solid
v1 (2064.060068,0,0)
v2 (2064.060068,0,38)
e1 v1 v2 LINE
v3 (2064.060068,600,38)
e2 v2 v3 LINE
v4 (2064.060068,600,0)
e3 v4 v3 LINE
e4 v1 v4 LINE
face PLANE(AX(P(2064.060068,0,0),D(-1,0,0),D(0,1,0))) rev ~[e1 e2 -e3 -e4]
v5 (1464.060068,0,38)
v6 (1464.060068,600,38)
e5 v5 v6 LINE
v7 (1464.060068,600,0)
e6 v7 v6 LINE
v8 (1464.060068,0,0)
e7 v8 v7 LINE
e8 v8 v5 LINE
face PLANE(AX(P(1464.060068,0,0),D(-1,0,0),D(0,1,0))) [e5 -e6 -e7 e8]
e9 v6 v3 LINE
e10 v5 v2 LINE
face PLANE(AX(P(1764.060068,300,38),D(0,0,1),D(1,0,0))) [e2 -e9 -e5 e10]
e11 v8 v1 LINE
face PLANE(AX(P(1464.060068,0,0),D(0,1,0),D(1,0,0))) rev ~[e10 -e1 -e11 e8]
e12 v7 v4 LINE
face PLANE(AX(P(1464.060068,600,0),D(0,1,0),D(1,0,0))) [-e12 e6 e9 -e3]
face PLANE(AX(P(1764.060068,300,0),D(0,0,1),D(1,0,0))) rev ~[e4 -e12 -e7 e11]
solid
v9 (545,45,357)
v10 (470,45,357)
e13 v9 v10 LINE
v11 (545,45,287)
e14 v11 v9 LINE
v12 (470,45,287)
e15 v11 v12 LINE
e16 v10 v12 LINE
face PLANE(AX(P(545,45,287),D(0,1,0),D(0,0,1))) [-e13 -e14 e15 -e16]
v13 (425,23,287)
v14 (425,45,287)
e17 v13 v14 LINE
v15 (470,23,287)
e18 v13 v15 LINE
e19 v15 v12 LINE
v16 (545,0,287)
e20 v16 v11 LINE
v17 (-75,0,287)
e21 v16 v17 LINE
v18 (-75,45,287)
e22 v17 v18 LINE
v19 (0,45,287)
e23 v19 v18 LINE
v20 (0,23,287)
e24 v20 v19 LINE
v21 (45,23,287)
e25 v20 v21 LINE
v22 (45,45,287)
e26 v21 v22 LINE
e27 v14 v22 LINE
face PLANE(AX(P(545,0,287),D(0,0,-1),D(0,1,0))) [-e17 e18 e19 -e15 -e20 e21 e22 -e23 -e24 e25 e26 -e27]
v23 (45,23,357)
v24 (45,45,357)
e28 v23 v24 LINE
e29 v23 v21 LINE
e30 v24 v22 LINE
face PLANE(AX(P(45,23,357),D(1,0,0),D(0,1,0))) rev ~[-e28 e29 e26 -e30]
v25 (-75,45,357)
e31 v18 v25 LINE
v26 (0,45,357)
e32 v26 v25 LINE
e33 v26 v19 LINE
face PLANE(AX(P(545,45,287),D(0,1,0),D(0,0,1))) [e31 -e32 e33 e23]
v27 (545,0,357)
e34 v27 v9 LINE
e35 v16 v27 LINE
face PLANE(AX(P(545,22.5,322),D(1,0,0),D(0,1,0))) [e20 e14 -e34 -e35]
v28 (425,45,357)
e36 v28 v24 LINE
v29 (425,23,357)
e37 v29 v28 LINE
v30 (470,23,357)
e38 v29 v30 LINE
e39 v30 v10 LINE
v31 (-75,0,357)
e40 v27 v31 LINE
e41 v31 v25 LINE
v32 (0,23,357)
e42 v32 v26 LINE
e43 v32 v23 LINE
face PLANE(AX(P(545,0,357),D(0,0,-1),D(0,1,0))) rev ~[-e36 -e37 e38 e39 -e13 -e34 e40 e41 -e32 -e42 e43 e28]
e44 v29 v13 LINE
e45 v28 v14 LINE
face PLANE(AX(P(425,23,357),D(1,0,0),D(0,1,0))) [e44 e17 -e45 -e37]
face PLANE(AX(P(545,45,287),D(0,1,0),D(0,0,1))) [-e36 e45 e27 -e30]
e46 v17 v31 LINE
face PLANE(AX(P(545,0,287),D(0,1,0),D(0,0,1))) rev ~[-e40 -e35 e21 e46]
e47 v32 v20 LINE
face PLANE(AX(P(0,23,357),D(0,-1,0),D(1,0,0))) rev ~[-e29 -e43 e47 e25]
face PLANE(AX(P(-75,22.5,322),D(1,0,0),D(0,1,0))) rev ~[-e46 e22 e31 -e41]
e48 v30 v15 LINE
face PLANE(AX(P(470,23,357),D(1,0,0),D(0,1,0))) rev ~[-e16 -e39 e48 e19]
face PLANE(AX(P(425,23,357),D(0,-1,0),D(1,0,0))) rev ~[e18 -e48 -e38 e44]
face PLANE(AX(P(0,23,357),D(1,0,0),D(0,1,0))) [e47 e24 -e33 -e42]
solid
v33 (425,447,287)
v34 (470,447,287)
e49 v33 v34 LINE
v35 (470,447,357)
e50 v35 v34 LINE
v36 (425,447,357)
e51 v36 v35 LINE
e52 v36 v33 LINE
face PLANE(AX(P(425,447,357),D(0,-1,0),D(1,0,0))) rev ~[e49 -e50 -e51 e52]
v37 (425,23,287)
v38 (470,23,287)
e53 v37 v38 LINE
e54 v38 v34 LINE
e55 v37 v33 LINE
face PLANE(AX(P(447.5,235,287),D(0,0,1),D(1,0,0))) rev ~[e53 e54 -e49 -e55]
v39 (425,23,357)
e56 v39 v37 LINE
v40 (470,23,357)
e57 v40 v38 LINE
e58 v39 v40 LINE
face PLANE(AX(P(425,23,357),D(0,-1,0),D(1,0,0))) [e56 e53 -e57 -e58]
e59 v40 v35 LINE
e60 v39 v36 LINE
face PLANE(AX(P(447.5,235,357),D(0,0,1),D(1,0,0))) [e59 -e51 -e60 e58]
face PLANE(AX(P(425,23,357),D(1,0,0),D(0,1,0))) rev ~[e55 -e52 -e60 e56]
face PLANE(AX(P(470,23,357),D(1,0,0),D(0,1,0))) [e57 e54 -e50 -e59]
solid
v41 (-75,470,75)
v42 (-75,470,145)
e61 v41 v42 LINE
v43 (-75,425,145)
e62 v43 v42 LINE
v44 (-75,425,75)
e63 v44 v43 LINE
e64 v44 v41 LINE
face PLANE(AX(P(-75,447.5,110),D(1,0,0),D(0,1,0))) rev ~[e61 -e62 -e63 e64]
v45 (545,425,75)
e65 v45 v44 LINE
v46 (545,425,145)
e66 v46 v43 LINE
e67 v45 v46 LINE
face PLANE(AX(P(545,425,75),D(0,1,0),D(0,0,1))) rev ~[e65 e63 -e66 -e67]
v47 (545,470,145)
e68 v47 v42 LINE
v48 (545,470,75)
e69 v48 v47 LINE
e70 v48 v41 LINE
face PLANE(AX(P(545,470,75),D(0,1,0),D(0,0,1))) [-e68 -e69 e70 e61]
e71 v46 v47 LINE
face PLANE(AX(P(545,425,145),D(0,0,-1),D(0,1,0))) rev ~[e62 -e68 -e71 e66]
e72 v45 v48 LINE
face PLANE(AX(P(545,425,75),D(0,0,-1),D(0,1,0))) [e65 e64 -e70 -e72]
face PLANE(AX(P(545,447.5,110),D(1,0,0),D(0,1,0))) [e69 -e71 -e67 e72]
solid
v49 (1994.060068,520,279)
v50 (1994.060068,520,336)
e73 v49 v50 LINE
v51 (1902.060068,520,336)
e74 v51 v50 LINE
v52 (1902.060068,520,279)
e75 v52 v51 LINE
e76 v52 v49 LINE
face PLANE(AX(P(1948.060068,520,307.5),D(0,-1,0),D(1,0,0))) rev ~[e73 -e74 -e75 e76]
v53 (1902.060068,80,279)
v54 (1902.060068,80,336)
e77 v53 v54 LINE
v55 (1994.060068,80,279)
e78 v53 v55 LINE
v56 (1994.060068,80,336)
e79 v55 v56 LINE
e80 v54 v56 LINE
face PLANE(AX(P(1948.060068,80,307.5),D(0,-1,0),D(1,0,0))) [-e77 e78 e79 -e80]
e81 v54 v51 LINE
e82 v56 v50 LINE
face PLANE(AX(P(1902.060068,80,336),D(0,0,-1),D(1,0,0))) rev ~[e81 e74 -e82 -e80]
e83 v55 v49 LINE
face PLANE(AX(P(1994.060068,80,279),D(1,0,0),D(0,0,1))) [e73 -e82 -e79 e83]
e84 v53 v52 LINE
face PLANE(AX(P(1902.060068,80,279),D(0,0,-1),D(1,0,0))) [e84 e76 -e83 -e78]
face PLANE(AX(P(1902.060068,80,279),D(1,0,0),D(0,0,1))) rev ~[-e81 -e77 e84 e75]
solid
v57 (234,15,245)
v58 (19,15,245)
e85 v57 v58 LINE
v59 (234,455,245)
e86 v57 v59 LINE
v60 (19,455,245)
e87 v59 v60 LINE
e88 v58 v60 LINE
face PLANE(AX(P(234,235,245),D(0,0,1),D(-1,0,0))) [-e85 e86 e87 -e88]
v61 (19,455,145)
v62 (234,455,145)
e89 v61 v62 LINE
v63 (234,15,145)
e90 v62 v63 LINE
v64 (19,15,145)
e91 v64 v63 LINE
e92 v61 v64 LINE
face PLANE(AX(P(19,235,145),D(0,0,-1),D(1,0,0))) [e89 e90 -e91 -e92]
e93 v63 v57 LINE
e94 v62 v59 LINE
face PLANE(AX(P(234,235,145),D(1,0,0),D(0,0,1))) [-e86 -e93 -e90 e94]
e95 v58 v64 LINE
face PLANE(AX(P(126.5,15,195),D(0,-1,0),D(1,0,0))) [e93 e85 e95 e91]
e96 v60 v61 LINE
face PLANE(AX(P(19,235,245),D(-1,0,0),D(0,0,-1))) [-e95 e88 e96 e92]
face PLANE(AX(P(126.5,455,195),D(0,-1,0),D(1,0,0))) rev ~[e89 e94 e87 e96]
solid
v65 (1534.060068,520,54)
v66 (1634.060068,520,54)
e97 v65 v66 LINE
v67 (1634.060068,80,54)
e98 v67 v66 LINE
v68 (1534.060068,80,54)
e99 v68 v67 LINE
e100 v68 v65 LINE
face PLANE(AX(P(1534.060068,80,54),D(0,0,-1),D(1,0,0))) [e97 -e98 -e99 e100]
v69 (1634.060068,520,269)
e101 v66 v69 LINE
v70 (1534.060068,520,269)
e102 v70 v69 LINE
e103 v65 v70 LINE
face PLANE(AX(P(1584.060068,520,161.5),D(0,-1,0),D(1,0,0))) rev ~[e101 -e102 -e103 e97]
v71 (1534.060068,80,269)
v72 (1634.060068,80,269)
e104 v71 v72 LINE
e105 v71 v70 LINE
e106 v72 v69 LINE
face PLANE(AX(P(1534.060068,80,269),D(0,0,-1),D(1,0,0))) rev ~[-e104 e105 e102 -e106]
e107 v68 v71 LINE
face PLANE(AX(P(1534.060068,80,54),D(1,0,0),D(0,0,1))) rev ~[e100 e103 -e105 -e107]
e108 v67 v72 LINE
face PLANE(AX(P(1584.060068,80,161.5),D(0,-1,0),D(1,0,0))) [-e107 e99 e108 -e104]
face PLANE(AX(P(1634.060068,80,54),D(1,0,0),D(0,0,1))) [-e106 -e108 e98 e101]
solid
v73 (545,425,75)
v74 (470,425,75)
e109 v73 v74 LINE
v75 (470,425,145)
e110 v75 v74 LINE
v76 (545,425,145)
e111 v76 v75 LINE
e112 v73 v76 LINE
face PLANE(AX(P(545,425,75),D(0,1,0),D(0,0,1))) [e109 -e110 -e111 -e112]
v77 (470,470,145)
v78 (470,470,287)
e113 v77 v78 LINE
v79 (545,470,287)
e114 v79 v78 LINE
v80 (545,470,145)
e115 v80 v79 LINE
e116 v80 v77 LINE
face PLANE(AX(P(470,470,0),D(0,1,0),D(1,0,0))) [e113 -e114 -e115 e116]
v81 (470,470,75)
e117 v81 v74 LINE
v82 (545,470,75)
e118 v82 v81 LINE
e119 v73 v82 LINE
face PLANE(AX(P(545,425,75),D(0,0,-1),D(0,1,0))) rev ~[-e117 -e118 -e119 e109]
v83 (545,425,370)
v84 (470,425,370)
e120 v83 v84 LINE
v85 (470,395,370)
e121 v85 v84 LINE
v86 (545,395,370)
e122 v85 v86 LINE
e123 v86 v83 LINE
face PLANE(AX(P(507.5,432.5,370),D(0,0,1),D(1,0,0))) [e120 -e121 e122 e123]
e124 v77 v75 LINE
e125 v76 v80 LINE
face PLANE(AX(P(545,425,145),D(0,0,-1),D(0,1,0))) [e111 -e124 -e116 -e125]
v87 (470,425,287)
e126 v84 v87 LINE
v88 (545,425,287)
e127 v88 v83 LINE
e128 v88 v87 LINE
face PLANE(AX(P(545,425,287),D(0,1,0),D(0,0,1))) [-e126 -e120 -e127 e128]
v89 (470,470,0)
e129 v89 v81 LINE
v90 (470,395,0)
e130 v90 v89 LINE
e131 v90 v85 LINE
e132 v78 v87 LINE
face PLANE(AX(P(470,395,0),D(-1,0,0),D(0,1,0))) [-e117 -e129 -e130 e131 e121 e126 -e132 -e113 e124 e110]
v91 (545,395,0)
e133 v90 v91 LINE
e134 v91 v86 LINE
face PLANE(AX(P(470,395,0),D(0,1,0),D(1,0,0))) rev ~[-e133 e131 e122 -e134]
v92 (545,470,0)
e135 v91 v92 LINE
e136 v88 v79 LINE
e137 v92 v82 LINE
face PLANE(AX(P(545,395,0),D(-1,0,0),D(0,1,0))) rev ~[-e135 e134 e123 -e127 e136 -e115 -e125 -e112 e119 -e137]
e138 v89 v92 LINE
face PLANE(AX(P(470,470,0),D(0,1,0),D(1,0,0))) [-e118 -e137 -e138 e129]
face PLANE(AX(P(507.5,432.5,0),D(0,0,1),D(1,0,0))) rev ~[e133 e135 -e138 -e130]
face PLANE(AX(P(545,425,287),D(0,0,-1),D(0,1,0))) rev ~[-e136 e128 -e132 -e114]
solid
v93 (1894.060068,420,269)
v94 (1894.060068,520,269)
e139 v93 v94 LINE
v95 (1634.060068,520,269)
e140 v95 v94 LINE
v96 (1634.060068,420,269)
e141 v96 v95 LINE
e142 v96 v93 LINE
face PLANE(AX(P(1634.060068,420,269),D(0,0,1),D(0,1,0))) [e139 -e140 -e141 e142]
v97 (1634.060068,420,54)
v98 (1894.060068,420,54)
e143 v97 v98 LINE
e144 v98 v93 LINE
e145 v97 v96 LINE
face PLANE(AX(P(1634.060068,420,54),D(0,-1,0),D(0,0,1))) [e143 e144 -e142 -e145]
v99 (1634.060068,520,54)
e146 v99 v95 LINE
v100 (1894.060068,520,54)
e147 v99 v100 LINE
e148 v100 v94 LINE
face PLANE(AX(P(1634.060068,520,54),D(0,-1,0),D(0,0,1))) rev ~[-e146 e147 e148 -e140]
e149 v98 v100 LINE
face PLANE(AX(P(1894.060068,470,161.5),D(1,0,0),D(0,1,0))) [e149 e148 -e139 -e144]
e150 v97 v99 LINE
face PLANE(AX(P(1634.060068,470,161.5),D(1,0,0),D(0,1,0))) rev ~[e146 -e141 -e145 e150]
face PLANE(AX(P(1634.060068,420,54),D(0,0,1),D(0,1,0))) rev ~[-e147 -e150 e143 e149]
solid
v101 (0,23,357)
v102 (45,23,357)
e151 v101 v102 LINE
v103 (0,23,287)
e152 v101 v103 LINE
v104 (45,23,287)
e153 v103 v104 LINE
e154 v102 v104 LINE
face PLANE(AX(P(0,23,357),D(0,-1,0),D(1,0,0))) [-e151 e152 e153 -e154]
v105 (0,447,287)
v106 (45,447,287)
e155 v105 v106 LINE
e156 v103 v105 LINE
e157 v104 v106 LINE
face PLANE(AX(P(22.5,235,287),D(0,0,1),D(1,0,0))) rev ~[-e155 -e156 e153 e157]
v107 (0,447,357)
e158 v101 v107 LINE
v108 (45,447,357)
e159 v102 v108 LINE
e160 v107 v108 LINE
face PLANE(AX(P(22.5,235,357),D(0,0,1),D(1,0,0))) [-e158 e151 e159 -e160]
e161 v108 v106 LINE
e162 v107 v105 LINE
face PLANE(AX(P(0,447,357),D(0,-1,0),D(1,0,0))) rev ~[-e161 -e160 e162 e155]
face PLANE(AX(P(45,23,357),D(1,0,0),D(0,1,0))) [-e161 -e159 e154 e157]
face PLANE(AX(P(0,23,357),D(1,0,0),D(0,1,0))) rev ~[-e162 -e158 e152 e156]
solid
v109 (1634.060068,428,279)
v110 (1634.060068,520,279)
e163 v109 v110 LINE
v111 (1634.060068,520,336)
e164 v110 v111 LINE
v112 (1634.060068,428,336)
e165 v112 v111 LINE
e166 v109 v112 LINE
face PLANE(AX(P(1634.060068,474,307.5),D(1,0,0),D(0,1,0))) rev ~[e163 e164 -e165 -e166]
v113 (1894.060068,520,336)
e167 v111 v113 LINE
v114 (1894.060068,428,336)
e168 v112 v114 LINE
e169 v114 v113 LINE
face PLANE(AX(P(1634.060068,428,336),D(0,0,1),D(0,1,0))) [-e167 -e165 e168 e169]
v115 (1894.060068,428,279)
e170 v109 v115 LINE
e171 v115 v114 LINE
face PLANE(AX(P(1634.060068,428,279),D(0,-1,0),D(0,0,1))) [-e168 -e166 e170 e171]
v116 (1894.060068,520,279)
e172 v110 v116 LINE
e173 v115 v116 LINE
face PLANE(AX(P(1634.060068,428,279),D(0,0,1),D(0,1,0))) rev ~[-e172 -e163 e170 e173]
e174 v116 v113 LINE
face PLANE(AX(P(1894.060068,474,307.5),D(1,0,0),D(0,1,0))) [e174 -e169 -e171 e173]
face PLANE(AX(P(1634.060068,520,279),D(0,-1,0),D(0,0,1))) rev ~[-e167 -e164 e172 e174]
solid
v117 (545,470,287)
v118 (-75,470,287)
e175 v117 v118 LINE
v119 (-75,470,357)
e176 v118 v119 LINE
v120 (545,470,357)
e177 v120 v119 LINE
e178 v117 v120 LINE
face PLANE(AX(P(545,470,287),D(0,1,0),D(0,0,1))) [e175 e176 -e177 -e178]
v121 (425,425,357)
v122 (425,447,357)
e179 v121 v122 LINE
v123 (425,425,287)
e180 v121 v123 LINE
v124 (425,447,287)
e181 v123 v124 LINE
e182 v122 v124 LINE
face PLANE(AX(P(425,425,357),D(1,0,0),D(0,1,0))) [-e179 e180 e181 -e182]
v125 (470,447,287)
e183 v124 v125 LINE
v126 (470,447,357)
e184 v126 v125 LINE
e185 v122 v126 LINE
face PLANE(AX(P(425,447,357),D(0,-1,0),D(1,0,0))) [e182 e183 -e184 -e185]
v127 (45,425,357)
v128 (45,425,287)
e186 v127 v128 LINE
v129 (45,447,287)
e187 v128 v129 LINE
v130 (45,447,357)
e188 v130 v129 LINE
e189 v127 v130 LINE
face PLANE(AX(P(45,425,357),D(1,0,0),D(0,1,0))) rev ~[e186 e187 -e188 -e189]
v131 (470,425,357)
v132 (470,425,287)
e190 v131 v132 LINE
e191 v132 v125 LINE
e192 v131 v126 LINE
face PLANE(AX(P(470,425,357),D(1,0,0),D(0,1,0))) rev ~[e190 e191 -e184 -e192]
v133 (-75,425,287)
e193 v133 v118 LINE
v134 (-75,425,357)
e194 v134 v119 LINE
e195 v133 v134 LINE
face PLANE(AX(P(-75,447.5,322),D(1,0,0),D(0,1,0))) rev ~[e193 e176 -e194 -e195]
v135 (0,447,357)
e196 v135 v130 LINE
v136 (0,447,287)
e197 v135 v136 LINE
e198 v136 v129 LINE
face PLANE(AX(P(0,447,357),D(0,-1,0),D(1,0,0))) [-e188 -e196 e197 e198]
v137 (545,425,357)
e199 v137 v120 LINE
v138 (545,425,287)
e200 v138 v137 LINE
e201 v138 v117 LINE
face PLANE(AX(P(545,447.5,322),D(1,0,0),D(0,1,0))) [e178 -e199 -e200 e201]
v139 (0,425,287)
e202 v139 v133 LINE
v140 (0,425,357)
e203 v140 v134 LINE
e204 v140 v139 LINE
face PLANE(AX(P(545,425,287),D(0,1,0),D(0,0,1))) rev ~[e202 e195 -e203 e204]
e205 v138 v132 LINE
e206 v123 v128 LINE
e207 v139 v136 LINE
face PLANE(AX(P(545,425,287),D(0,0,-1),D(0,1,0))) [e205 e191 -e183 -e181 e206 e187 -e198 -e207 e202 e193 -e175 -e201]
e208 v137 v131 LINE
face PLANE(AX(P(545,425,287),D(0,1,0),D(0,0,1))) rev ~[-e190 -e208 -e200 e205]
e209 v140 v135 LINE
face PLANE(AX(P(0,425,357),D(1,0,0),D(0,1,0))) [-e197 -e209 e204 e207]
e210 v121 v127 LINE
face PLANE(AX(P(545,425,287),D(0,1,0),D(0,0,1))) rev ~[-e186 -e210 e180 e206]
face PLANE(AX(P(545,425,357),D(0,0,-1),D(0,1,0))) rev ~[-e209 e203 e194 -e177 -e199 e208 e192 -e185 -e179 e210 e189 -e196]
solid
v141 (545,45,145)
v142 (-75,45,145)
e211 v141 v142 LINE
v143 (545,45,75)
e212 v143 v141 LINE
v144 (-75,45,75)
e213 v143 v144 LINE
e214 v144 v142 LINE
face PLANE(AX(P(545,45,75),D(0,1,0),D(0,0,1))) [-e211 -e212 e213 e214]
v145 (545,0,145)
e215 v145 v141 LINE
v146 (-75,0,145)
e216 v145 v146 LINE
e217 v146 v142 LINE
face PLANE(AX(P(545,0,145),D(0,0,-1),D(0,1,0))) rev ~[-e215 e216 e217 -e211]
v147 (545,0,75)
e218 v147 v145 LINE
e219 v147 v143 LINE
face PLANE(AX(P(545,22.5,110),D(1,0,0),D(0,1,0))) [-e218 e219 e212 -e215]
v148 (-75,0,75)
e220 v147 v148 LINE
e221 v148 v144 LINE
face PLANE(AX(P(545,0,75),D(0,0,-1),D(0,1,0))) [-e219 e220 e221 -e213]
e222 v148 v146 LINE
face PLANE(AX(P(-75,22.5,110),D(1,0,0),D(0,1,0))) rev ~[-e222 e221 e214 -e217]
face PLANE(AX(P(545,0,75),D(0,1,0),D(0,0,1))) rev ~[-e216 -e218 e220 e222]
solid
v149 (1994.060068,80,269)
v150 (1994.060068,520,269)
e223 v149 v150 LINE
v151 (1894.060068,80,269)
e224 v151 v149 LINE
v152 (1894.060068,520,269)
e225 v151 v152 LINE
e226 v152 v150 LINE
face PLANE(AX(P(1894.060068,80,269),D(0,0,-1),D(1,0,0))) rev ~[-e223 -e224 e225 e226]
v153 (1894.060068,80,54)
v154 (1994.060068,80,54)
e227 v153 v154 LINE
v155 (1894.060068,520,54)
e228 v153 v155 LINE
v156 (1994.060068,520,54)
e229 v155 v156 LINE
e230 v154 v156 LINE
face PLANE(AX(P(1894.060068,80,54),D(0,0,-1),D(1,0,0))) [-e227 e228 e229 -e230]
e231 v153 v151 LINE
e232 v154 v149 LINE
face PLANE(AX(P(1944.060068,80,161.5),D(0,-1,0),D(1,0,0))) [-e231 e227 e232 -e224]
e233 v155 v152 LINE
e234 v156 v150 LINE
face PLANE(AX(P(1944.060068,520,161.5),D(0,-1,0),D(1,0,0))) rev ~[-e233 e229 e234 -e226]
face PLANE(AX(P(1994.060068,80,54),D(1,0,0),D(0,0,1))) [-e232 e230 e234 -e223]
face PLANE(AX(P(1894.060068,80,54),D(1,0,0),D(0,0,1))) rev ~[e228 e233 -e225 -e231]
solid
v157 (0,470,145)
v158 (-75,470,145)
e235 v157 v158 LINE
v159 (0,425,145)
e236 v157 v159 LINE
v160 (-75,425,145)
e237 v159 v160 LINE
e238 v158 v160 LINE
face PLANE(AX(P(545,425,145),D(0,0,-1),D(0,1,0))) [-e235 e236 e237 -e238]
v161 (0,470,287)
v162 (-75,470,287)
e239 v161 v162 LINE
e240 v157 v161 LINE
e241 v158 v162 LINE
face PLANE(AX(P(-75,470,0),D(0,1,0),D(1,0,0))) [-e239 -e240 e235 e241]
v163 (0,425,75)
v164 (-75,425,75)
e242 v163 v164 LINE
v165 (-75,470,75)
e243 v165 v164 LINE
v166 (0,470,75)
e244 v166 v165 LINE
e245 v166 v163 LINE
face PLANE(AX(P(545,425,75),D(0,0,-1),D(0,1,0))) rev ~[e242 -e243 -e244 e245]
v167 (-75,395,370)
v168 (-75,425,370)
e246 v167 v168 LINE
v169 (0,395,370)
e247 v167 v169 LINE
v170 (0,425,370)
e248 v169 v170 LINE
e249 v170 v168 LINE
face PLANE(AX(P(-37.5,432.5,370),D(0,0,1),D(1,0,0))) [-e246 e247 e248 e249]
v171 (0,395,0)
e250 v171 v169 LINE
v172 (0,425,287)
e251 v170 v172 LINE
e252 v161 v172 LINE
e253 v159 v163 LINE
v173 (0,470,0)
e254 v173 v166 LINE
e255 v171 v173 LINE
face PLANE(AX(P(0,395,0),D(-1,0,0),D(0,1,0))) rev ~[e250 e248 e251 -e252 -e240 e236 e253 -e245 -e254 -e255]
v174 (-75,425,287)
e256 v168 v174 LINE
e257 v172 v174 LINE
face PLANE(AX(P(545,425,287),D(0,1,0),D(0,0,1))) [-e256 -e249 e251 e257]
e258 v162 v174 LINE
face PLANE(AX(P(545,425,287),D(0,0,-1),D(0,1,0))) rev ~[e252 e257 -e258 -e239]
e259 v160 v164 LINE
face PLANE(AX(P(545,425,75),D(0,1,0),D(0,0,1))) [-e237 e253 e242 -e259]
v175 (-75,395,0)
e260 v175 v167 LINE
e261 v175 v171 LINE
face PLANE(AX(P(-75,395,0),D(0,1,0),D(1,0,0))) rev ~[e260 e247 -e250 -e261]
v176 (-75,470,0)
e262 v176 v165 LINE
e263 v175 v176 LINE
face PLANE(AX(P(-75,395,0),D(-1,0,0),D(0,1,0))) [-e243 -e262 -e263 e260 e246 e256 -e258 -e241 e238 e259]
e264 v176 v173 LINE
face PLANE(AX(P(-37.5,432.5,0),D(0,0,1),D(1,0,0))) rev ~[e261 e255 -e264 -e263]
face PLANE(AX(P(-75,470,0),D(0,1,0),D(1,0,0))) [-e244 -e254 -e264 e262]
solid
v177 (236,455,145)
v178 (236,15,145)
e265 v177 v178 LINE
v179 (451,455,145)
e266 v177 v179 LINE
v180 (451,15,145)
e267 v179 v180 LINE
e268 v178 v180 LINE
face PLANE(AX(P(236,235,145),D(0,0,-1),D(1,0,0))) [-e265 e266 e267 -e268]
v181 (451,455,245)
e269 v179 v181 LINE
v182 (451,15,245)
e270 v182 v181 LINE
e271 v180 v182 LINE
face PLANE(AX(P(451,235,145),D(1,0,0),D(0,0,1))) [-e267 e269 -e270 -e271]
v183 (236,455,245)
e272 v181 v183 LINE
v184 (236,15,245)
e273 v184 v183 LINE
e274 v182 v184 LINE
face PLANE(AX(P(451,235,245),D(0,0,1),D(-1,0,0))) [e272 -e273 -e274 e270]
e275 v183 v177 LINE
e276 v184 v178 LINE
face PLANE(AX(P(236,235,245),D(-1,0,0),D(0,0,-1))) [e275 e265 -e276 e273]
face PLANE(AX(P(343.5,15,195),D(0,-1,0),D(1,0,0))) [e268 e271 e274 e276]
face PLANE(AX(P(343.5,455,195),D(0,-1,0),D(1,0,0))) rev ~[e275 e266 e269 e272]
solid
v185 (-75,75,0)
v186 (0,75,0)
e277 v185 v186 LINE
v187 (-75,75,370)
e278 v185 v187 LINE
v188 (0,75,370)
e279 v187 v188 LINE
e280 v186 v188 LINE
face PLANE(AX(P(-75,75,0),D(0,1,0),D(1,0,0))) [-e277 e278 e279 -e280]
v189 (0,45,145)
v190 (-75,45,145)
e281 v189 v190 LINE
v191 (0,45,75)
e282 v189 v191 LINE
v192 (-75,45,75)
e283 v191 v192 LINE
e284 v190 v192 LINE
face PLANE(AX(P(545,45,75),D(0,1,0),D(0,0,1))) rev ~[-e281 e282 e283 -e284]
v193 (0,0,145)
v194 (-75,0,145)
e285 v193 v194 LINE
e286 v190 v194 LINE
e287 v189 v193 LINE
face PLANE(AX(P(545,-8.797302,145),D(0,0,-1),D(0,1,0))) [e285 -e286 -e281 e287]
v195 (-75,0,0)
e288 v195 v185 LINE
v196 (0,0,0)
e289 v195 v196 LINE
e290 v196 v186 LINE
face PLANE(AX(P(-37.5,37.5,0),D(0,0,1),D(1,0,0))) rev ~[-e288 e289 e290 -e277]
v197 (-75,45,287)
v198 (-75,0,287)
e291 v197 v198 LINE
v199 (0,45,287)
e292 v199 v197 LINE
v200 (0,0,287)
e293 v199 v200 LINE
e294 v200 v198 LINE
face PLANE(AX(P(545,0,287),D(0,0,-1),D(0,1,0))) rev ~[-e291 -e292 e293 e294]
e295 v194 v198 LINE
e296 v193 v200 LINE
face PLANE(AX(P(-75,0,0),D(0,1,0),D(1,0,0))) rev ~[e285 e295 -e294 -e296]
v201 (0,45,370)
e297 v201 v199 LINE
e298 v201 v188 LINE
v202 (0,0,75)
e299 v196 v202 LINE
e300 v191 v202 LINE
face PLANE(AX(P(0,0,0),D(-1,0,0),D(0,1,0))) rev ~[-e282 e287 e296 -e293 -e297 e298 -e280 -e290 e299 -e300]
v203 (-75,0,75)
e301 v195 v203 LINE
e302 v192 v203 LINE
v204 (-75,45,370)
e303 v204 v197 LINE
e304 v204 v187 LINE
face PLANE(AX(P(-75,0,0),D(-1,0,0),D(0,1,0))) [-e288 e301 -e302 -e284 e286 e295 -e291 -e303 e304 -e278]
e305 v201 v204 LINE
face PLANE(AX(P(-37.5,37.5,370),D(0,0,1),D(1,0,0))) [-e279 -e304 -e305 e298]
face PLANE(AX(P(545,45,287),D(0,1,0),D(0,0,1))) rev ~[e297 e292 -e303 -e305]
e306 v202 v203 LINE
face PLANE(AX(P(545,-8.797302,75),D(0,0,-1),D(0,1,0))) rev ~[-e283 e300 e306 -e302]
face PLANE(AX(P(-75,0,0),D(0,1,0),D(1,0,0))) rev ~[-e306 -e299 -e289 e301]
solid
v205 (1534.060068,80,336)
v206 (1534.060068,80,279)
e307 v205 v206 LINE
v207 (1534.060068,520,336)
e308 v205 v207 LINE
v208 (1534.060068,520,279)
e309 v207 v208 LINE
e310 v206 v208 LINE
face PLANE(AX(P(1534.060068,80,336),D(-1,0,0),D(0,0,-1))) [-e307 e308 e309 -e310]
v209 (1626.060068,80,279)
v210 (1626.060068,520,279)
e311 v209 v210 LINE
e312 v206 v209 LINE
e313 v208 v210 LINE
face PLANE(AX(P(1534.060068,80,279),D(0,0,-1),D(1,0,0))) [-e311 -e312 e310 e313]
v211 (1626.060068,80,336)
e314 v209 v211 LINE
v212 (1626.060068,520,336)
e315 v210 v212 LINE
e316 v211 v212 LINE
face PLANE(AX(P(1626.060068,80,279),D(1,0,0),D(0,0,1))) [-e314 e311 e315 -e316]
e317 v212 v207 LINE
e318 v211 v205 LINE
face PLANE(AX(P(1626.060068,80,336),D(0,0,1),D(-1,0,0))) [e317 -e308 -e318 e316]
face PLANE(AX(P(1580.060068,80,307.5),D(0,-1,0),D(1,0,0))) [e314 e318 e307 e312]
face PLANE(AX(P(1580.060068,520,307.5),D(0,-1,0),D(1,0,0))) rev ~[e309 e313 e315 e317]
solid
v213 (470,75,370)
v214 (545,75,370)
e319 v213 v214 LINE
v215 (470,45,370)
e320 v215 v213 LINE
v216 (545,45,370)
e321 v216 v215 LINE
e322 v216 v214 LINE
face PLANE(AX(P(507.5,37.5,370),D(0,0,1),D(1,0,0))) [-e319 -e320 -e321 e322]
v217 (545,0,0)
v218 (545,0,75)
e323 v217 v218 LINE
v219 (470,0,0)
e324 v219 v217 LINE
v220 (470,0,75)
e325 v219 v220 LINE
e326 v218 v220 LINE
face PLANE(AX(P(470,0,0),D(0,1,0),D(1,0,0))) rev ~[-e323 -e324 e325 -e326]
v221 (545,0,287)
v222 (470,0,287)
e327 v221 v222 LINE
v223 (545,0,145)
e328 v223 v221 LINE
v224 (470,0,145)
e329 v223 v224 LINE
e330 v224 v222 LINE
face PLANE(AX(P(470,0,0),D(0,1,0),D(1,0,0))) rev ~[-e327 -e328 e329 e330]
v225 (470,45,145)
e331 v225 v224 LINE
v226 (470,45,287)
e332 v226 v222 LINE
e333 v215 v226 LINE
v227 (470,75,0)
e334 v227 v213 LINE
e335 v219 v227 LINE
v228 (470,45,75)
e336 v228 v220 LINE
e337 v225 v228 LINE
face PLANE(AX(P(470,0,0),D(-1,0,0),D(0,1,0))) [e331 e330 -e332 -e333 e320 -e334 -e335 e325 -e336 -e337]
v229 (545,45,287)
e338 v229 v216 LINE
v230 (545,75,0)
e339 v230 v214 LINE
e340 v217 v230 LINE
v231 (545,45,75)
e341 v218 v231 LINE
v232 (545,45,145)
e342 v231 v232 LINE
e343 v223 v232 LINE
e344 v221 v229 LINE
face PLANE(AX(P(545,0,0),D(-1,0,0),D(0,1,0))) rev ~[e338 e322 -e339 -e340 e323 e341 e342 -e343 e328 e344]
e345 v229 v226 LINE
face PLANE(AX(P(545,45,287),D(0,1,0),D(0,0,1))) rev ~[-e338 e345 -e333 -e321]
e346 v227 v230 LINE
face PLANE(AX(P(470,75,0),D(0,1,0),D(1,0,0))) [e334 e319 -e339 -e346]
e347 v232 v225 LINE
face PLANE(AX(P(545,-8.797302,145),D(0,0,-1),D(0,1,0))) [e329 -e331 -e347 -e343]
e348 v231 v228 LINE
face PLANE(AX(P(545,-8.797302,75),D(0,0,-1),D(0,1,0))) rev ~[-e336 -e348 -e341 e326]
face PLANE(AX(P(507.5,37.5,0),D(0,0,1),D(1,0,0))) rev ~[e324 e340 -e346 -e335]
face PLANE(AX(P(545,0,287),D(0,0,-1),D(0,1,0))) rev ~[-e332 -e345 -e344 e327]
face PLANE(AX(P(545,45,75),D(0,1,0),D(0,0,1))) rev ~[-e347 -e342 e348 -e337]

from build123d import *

# Parameters (mm, degrees)
F0_W      = 75
F0_H      = 75
F1_DEPTH  = 370
F2_W      = 45
F2_H      = 204.2819981575
F2_W_2    = 53.7973015904
F2_H_2    = 70
F3_DEPTH  = 620.001
F4_W      = 45
F4_H      = 70
F5_DEPTH  = 620
F6_W      = 45
F6_H      = 22
F7_DEPTH  = 70
F8_W      = 45
F8_H      = 424
F9_DEPTH  = 70
F12_DEPTH = 220
F13_W     = 600
F13_H     = 600
F14_DEPTH = 38
F16_START = -80
F15_W     = 100
F15_H     = 215
F16_DEPTH = 440
F15_W_2   = 92
F15_H_2   = 57
F17_W     = 100
F17_H     = 215
F18_DEPTH = 260
F17_W_2   = 92
F17_H_2   = 57


with BuildPart() as f1:
    # F0 (on Top) → F1 (new body)
    with BuildSketch(Plane.XY):
        with Locations((-37.5, 37.5)):
            Rectangle(F0_W, F0_H)
    extrude(amount=F1_DEPTH)


with BuildPart() as f1b:
    # F0 (on Top) → F1, piece 2 (new body)
    with BuildSketch(Plane.XY):
        with Locations((-37.5, 432.5)):
            Rectangle(F0_W, F0_H)
    extrude(amount=F1_DEPTH)


with BuildPart() as f1c:
    # F0 (on Top) → F1, piece 3 (new body)
    with BuildSketch(Plane.XY):
        with Locations((507.5, 432.5)):
            Rectangle(F0_W, F0_H)
    extrude(amount=F1_DEPTH)


with BuildPart() as f1d:
    # F0 (on Top) → F1, piece 4 (new body)
    with BuildSketch(Plane.XY):
        with Locations((507.5, 37.5)):
            Rectangle(F0_W, F0_H)
    extrude(amount=F1_DEPTH)


with BuildPart() as f3_tool:
    # F2 (on face) → F3 (new body, through all)
    with BuildSketch(Plane.YZ.offset(545)):
        with Locations((22.5, 389.1409990788)):
            Rectangle(F2_W, F2_H)
        with Locations((447.5, 389.1409990788)):
            Rectangle(F2_W, F2_H)
        with Locations((18.1013492048, 110)):
            Rectangle(F2_W_2, F2_H_2)
        with Locations((451.8986507952, 110)):
            Rectangle(F2_W_2, F2_H_2)
    extrude(amount=-F3_DEPTH)


with BuildPart() as f1_1:
    add(f1.part)

    # F3: cut by f3_tool
    add(f3_tool.part, mode=Mode.SUBTRACT)


with BuildPart() as f1b_1:
    add(f1b.part)

    # F3: cut by f3_tool
    add(f3_tool.part, mode=Mode.SUBTRACT)


with BuildPart() as f1c_1:
    add(f1c.part)

    # F3: cut by f3_tool
    add(f3_tool.part, mode=Mode.SUBTRACT)


with BuildPart() as f1d_1:
    add(f1d.part)

    # F3: cut by f3_tool
    add(f3_tool.part, mode=Mode.SUBTRACT)


with BuildPart() as f5:
    # F4 (on face) → F5 (new body, through all)
    with BuildSketch(Plane.YZ.offset(545)):
        with Locations((22.5, 322)):
            Rectangle(F4_W, F4_H)
    extrude(amount=-F5_DEPTH)


with BuildPart() as f5b:
    # F4 (on face) → F5, piece 2 (new body, through all)
    with BuildSketch(Plane.YZ.offset(545)):
        with Locations((22.5, 110)):
            Rectangle(F4_W, F4_H)
    extrude(amount=-F5_DEPTH)


with BuildPart() as f5c:
    # F4 (on face) → F5, piece 3 (new body, through all)
    with BuildSketch(Plane.YZ.offset(545)):
        with Locations((447.5, 110)):
            Rectangle(F4_W, F4_H)
    extrude(amount=-F5_DEPTH)


with BuildPart() as f5d:
    # F4 (on face) → F5, piece 4 (new body, through all)
    with BuildSketch(Plane.YZ.offset(545)):
        with Locations((447.5, 322)):
            Rectangle(F4_W, F4_H)
    extrude(amount=-F5_DEPTH)


with BuildPart() as f7_tool:
    # F6 (on face) → F7 (new body)
    with BuildSketch(Plane.XY.offset(357)):
        with Locations((447.5, 34)):
            Rectangle(F6_W, F6_H)
        with Locations((22.5, 34)):
            Rectangle(F6_W, F6_H)
        with Locations((447.5, 436)):
            Rectangle(F6_W, F6_H)
        with Locations((22.5, 436)):
            Rectangle(F6_W, F6_H)
    extrude(amount=-F7_DEPTH)


with BuildPart() as f5_1:
    add(f5.part)

    # F7: cut by f7_tool
    add(f7_tool.part, mode=Mode.SUBTRACT)


with BuildPart() as f5d_1:
    add(f5d.part)

    # F7: cut by f7_tool
    add(f7_tool.part, mode=Mode.SUBTRACT)


with BuildPart() as f9:
    # F8 (on face) → F9 (new body, through all)
    with BuildSketch(Plane.XY.offset(357)):
        with Locations((22.5, 235)):
            Rectangle(F8_W, F8_H)
    extrude(amount=-F9_DEPTH)


with BuildPart() as f9b:
    # F8 (on face) → F9, piece 2 (new body, through all)
    with BuildSketch(Plane.XY.offset(357)):
        with Locations((447.5, 235)):
            Rectangle(F8_W, F8_H)
    extrude(amount=-F9_DEPTH)


with BuildPart() as f12:
    # F11 (on offset) → F12 (new body, symmetric)
    with BuildSketch(Plane.XZ.offset(-235)):
        Polygon((19, 245), (19, 145), (215, 145), (234, 145), (234, 245), align=None)
    extrude(amount=F12_DEPTH, both=True)


with BuildPart() as f12b:
    # F11 (on offset) → F12, piece 2 (new body, symmetric)
    with BuildSketch(Plane.XZ.offset(-235)):
        Polygon((236, 245), (236, 145), (255, 145), (451, 145), (451, 245), align=None)
    extrude(amount=F12_DEPTH, both=True)


with BuildPart() as f14:
    # F13 (on Top) → F14 (new body)
    with BuildSketch(Plane.XY):
        with Locations((1764.0600681305, 300)):
            Rectangle(F13_W, F13_H)
    extrude(amount=F14_DEPTH)


with BuildPart() as f16:
    # F15 (on Front) → F16 (new body)
    with BuildSketch(Plane.XZ.offset(F16_START)):
        with Locations((1584.0600681305, 161.5)):
            Rectangle(F15_W, F15_H)
    extrude(amount=-F16_DEPTH)


with BuildPart() as f16b:
    # F15 (on Front) → F16, piece 2 (new body)
    with BuildSketch(Plane.XZ.offset(F16_START)):
        with Locations((1944.0600681305, 161.5)):
            Rectangle(F15_W, F15_H)
    extrude(amount=-F16_DEPTH)


with BuildPart() as f16c:
    # F15 (on Front) → F16, piece 3 (new body)
    with BuildSketch(Plane.XZ.offset(F16_START)):
        Polygon((1534.0600681305, 336), (1534.0600681305, 279), (1564.0600681305, 279), (1626.0600681305, 279), (1626.0600681305, 336), align=None)
    extrude(amount=-F16_DEPTH)


with BuildPart() as f16d:
    # F15 (on Front) → F16, piece 4 (new body)
    with BuildSketch(Plane.XZ.offset(F16_START)):
        with Locations((1948.0600681305, 307.5)):
            Rectangle(F15_W_2, F15_H_2)
    extrude(amount=-F16_DEPTH)


with BuildPart() as f18:
    # F17 (on face) → F18 (new body, through all)
    with BuildSketch(Plane.YZ.offset(1634.0600681305)):
        with Locations((470, 161.5)):
            Rectangle(F17_W, F17_H)
    extrude(amount=F18_DEPTH)


with BuildPart() as f18b:
    # F17 (on face) → F18, piece 2 (new body, through all)
    with BuildSketch(Plane.YZ.offset(1634.0600681305)):
        with Locations((474, 307.5)):
            Rectangle(F17_W_2, F17_H_2)
    extrude(amount=F18_DEPTH)


solid = Compound([f1_1.part, f1b_1.part, f1c_1.part, f1d_1.part, f5b.part, f5c.part, f5_1.part, f5d_1.part, f9.part, f9b.part, f12.part, f12b.part, f14.part, f16.part, f16b.part, f16c.part, f16d.part, f18.part, f18b.part])
